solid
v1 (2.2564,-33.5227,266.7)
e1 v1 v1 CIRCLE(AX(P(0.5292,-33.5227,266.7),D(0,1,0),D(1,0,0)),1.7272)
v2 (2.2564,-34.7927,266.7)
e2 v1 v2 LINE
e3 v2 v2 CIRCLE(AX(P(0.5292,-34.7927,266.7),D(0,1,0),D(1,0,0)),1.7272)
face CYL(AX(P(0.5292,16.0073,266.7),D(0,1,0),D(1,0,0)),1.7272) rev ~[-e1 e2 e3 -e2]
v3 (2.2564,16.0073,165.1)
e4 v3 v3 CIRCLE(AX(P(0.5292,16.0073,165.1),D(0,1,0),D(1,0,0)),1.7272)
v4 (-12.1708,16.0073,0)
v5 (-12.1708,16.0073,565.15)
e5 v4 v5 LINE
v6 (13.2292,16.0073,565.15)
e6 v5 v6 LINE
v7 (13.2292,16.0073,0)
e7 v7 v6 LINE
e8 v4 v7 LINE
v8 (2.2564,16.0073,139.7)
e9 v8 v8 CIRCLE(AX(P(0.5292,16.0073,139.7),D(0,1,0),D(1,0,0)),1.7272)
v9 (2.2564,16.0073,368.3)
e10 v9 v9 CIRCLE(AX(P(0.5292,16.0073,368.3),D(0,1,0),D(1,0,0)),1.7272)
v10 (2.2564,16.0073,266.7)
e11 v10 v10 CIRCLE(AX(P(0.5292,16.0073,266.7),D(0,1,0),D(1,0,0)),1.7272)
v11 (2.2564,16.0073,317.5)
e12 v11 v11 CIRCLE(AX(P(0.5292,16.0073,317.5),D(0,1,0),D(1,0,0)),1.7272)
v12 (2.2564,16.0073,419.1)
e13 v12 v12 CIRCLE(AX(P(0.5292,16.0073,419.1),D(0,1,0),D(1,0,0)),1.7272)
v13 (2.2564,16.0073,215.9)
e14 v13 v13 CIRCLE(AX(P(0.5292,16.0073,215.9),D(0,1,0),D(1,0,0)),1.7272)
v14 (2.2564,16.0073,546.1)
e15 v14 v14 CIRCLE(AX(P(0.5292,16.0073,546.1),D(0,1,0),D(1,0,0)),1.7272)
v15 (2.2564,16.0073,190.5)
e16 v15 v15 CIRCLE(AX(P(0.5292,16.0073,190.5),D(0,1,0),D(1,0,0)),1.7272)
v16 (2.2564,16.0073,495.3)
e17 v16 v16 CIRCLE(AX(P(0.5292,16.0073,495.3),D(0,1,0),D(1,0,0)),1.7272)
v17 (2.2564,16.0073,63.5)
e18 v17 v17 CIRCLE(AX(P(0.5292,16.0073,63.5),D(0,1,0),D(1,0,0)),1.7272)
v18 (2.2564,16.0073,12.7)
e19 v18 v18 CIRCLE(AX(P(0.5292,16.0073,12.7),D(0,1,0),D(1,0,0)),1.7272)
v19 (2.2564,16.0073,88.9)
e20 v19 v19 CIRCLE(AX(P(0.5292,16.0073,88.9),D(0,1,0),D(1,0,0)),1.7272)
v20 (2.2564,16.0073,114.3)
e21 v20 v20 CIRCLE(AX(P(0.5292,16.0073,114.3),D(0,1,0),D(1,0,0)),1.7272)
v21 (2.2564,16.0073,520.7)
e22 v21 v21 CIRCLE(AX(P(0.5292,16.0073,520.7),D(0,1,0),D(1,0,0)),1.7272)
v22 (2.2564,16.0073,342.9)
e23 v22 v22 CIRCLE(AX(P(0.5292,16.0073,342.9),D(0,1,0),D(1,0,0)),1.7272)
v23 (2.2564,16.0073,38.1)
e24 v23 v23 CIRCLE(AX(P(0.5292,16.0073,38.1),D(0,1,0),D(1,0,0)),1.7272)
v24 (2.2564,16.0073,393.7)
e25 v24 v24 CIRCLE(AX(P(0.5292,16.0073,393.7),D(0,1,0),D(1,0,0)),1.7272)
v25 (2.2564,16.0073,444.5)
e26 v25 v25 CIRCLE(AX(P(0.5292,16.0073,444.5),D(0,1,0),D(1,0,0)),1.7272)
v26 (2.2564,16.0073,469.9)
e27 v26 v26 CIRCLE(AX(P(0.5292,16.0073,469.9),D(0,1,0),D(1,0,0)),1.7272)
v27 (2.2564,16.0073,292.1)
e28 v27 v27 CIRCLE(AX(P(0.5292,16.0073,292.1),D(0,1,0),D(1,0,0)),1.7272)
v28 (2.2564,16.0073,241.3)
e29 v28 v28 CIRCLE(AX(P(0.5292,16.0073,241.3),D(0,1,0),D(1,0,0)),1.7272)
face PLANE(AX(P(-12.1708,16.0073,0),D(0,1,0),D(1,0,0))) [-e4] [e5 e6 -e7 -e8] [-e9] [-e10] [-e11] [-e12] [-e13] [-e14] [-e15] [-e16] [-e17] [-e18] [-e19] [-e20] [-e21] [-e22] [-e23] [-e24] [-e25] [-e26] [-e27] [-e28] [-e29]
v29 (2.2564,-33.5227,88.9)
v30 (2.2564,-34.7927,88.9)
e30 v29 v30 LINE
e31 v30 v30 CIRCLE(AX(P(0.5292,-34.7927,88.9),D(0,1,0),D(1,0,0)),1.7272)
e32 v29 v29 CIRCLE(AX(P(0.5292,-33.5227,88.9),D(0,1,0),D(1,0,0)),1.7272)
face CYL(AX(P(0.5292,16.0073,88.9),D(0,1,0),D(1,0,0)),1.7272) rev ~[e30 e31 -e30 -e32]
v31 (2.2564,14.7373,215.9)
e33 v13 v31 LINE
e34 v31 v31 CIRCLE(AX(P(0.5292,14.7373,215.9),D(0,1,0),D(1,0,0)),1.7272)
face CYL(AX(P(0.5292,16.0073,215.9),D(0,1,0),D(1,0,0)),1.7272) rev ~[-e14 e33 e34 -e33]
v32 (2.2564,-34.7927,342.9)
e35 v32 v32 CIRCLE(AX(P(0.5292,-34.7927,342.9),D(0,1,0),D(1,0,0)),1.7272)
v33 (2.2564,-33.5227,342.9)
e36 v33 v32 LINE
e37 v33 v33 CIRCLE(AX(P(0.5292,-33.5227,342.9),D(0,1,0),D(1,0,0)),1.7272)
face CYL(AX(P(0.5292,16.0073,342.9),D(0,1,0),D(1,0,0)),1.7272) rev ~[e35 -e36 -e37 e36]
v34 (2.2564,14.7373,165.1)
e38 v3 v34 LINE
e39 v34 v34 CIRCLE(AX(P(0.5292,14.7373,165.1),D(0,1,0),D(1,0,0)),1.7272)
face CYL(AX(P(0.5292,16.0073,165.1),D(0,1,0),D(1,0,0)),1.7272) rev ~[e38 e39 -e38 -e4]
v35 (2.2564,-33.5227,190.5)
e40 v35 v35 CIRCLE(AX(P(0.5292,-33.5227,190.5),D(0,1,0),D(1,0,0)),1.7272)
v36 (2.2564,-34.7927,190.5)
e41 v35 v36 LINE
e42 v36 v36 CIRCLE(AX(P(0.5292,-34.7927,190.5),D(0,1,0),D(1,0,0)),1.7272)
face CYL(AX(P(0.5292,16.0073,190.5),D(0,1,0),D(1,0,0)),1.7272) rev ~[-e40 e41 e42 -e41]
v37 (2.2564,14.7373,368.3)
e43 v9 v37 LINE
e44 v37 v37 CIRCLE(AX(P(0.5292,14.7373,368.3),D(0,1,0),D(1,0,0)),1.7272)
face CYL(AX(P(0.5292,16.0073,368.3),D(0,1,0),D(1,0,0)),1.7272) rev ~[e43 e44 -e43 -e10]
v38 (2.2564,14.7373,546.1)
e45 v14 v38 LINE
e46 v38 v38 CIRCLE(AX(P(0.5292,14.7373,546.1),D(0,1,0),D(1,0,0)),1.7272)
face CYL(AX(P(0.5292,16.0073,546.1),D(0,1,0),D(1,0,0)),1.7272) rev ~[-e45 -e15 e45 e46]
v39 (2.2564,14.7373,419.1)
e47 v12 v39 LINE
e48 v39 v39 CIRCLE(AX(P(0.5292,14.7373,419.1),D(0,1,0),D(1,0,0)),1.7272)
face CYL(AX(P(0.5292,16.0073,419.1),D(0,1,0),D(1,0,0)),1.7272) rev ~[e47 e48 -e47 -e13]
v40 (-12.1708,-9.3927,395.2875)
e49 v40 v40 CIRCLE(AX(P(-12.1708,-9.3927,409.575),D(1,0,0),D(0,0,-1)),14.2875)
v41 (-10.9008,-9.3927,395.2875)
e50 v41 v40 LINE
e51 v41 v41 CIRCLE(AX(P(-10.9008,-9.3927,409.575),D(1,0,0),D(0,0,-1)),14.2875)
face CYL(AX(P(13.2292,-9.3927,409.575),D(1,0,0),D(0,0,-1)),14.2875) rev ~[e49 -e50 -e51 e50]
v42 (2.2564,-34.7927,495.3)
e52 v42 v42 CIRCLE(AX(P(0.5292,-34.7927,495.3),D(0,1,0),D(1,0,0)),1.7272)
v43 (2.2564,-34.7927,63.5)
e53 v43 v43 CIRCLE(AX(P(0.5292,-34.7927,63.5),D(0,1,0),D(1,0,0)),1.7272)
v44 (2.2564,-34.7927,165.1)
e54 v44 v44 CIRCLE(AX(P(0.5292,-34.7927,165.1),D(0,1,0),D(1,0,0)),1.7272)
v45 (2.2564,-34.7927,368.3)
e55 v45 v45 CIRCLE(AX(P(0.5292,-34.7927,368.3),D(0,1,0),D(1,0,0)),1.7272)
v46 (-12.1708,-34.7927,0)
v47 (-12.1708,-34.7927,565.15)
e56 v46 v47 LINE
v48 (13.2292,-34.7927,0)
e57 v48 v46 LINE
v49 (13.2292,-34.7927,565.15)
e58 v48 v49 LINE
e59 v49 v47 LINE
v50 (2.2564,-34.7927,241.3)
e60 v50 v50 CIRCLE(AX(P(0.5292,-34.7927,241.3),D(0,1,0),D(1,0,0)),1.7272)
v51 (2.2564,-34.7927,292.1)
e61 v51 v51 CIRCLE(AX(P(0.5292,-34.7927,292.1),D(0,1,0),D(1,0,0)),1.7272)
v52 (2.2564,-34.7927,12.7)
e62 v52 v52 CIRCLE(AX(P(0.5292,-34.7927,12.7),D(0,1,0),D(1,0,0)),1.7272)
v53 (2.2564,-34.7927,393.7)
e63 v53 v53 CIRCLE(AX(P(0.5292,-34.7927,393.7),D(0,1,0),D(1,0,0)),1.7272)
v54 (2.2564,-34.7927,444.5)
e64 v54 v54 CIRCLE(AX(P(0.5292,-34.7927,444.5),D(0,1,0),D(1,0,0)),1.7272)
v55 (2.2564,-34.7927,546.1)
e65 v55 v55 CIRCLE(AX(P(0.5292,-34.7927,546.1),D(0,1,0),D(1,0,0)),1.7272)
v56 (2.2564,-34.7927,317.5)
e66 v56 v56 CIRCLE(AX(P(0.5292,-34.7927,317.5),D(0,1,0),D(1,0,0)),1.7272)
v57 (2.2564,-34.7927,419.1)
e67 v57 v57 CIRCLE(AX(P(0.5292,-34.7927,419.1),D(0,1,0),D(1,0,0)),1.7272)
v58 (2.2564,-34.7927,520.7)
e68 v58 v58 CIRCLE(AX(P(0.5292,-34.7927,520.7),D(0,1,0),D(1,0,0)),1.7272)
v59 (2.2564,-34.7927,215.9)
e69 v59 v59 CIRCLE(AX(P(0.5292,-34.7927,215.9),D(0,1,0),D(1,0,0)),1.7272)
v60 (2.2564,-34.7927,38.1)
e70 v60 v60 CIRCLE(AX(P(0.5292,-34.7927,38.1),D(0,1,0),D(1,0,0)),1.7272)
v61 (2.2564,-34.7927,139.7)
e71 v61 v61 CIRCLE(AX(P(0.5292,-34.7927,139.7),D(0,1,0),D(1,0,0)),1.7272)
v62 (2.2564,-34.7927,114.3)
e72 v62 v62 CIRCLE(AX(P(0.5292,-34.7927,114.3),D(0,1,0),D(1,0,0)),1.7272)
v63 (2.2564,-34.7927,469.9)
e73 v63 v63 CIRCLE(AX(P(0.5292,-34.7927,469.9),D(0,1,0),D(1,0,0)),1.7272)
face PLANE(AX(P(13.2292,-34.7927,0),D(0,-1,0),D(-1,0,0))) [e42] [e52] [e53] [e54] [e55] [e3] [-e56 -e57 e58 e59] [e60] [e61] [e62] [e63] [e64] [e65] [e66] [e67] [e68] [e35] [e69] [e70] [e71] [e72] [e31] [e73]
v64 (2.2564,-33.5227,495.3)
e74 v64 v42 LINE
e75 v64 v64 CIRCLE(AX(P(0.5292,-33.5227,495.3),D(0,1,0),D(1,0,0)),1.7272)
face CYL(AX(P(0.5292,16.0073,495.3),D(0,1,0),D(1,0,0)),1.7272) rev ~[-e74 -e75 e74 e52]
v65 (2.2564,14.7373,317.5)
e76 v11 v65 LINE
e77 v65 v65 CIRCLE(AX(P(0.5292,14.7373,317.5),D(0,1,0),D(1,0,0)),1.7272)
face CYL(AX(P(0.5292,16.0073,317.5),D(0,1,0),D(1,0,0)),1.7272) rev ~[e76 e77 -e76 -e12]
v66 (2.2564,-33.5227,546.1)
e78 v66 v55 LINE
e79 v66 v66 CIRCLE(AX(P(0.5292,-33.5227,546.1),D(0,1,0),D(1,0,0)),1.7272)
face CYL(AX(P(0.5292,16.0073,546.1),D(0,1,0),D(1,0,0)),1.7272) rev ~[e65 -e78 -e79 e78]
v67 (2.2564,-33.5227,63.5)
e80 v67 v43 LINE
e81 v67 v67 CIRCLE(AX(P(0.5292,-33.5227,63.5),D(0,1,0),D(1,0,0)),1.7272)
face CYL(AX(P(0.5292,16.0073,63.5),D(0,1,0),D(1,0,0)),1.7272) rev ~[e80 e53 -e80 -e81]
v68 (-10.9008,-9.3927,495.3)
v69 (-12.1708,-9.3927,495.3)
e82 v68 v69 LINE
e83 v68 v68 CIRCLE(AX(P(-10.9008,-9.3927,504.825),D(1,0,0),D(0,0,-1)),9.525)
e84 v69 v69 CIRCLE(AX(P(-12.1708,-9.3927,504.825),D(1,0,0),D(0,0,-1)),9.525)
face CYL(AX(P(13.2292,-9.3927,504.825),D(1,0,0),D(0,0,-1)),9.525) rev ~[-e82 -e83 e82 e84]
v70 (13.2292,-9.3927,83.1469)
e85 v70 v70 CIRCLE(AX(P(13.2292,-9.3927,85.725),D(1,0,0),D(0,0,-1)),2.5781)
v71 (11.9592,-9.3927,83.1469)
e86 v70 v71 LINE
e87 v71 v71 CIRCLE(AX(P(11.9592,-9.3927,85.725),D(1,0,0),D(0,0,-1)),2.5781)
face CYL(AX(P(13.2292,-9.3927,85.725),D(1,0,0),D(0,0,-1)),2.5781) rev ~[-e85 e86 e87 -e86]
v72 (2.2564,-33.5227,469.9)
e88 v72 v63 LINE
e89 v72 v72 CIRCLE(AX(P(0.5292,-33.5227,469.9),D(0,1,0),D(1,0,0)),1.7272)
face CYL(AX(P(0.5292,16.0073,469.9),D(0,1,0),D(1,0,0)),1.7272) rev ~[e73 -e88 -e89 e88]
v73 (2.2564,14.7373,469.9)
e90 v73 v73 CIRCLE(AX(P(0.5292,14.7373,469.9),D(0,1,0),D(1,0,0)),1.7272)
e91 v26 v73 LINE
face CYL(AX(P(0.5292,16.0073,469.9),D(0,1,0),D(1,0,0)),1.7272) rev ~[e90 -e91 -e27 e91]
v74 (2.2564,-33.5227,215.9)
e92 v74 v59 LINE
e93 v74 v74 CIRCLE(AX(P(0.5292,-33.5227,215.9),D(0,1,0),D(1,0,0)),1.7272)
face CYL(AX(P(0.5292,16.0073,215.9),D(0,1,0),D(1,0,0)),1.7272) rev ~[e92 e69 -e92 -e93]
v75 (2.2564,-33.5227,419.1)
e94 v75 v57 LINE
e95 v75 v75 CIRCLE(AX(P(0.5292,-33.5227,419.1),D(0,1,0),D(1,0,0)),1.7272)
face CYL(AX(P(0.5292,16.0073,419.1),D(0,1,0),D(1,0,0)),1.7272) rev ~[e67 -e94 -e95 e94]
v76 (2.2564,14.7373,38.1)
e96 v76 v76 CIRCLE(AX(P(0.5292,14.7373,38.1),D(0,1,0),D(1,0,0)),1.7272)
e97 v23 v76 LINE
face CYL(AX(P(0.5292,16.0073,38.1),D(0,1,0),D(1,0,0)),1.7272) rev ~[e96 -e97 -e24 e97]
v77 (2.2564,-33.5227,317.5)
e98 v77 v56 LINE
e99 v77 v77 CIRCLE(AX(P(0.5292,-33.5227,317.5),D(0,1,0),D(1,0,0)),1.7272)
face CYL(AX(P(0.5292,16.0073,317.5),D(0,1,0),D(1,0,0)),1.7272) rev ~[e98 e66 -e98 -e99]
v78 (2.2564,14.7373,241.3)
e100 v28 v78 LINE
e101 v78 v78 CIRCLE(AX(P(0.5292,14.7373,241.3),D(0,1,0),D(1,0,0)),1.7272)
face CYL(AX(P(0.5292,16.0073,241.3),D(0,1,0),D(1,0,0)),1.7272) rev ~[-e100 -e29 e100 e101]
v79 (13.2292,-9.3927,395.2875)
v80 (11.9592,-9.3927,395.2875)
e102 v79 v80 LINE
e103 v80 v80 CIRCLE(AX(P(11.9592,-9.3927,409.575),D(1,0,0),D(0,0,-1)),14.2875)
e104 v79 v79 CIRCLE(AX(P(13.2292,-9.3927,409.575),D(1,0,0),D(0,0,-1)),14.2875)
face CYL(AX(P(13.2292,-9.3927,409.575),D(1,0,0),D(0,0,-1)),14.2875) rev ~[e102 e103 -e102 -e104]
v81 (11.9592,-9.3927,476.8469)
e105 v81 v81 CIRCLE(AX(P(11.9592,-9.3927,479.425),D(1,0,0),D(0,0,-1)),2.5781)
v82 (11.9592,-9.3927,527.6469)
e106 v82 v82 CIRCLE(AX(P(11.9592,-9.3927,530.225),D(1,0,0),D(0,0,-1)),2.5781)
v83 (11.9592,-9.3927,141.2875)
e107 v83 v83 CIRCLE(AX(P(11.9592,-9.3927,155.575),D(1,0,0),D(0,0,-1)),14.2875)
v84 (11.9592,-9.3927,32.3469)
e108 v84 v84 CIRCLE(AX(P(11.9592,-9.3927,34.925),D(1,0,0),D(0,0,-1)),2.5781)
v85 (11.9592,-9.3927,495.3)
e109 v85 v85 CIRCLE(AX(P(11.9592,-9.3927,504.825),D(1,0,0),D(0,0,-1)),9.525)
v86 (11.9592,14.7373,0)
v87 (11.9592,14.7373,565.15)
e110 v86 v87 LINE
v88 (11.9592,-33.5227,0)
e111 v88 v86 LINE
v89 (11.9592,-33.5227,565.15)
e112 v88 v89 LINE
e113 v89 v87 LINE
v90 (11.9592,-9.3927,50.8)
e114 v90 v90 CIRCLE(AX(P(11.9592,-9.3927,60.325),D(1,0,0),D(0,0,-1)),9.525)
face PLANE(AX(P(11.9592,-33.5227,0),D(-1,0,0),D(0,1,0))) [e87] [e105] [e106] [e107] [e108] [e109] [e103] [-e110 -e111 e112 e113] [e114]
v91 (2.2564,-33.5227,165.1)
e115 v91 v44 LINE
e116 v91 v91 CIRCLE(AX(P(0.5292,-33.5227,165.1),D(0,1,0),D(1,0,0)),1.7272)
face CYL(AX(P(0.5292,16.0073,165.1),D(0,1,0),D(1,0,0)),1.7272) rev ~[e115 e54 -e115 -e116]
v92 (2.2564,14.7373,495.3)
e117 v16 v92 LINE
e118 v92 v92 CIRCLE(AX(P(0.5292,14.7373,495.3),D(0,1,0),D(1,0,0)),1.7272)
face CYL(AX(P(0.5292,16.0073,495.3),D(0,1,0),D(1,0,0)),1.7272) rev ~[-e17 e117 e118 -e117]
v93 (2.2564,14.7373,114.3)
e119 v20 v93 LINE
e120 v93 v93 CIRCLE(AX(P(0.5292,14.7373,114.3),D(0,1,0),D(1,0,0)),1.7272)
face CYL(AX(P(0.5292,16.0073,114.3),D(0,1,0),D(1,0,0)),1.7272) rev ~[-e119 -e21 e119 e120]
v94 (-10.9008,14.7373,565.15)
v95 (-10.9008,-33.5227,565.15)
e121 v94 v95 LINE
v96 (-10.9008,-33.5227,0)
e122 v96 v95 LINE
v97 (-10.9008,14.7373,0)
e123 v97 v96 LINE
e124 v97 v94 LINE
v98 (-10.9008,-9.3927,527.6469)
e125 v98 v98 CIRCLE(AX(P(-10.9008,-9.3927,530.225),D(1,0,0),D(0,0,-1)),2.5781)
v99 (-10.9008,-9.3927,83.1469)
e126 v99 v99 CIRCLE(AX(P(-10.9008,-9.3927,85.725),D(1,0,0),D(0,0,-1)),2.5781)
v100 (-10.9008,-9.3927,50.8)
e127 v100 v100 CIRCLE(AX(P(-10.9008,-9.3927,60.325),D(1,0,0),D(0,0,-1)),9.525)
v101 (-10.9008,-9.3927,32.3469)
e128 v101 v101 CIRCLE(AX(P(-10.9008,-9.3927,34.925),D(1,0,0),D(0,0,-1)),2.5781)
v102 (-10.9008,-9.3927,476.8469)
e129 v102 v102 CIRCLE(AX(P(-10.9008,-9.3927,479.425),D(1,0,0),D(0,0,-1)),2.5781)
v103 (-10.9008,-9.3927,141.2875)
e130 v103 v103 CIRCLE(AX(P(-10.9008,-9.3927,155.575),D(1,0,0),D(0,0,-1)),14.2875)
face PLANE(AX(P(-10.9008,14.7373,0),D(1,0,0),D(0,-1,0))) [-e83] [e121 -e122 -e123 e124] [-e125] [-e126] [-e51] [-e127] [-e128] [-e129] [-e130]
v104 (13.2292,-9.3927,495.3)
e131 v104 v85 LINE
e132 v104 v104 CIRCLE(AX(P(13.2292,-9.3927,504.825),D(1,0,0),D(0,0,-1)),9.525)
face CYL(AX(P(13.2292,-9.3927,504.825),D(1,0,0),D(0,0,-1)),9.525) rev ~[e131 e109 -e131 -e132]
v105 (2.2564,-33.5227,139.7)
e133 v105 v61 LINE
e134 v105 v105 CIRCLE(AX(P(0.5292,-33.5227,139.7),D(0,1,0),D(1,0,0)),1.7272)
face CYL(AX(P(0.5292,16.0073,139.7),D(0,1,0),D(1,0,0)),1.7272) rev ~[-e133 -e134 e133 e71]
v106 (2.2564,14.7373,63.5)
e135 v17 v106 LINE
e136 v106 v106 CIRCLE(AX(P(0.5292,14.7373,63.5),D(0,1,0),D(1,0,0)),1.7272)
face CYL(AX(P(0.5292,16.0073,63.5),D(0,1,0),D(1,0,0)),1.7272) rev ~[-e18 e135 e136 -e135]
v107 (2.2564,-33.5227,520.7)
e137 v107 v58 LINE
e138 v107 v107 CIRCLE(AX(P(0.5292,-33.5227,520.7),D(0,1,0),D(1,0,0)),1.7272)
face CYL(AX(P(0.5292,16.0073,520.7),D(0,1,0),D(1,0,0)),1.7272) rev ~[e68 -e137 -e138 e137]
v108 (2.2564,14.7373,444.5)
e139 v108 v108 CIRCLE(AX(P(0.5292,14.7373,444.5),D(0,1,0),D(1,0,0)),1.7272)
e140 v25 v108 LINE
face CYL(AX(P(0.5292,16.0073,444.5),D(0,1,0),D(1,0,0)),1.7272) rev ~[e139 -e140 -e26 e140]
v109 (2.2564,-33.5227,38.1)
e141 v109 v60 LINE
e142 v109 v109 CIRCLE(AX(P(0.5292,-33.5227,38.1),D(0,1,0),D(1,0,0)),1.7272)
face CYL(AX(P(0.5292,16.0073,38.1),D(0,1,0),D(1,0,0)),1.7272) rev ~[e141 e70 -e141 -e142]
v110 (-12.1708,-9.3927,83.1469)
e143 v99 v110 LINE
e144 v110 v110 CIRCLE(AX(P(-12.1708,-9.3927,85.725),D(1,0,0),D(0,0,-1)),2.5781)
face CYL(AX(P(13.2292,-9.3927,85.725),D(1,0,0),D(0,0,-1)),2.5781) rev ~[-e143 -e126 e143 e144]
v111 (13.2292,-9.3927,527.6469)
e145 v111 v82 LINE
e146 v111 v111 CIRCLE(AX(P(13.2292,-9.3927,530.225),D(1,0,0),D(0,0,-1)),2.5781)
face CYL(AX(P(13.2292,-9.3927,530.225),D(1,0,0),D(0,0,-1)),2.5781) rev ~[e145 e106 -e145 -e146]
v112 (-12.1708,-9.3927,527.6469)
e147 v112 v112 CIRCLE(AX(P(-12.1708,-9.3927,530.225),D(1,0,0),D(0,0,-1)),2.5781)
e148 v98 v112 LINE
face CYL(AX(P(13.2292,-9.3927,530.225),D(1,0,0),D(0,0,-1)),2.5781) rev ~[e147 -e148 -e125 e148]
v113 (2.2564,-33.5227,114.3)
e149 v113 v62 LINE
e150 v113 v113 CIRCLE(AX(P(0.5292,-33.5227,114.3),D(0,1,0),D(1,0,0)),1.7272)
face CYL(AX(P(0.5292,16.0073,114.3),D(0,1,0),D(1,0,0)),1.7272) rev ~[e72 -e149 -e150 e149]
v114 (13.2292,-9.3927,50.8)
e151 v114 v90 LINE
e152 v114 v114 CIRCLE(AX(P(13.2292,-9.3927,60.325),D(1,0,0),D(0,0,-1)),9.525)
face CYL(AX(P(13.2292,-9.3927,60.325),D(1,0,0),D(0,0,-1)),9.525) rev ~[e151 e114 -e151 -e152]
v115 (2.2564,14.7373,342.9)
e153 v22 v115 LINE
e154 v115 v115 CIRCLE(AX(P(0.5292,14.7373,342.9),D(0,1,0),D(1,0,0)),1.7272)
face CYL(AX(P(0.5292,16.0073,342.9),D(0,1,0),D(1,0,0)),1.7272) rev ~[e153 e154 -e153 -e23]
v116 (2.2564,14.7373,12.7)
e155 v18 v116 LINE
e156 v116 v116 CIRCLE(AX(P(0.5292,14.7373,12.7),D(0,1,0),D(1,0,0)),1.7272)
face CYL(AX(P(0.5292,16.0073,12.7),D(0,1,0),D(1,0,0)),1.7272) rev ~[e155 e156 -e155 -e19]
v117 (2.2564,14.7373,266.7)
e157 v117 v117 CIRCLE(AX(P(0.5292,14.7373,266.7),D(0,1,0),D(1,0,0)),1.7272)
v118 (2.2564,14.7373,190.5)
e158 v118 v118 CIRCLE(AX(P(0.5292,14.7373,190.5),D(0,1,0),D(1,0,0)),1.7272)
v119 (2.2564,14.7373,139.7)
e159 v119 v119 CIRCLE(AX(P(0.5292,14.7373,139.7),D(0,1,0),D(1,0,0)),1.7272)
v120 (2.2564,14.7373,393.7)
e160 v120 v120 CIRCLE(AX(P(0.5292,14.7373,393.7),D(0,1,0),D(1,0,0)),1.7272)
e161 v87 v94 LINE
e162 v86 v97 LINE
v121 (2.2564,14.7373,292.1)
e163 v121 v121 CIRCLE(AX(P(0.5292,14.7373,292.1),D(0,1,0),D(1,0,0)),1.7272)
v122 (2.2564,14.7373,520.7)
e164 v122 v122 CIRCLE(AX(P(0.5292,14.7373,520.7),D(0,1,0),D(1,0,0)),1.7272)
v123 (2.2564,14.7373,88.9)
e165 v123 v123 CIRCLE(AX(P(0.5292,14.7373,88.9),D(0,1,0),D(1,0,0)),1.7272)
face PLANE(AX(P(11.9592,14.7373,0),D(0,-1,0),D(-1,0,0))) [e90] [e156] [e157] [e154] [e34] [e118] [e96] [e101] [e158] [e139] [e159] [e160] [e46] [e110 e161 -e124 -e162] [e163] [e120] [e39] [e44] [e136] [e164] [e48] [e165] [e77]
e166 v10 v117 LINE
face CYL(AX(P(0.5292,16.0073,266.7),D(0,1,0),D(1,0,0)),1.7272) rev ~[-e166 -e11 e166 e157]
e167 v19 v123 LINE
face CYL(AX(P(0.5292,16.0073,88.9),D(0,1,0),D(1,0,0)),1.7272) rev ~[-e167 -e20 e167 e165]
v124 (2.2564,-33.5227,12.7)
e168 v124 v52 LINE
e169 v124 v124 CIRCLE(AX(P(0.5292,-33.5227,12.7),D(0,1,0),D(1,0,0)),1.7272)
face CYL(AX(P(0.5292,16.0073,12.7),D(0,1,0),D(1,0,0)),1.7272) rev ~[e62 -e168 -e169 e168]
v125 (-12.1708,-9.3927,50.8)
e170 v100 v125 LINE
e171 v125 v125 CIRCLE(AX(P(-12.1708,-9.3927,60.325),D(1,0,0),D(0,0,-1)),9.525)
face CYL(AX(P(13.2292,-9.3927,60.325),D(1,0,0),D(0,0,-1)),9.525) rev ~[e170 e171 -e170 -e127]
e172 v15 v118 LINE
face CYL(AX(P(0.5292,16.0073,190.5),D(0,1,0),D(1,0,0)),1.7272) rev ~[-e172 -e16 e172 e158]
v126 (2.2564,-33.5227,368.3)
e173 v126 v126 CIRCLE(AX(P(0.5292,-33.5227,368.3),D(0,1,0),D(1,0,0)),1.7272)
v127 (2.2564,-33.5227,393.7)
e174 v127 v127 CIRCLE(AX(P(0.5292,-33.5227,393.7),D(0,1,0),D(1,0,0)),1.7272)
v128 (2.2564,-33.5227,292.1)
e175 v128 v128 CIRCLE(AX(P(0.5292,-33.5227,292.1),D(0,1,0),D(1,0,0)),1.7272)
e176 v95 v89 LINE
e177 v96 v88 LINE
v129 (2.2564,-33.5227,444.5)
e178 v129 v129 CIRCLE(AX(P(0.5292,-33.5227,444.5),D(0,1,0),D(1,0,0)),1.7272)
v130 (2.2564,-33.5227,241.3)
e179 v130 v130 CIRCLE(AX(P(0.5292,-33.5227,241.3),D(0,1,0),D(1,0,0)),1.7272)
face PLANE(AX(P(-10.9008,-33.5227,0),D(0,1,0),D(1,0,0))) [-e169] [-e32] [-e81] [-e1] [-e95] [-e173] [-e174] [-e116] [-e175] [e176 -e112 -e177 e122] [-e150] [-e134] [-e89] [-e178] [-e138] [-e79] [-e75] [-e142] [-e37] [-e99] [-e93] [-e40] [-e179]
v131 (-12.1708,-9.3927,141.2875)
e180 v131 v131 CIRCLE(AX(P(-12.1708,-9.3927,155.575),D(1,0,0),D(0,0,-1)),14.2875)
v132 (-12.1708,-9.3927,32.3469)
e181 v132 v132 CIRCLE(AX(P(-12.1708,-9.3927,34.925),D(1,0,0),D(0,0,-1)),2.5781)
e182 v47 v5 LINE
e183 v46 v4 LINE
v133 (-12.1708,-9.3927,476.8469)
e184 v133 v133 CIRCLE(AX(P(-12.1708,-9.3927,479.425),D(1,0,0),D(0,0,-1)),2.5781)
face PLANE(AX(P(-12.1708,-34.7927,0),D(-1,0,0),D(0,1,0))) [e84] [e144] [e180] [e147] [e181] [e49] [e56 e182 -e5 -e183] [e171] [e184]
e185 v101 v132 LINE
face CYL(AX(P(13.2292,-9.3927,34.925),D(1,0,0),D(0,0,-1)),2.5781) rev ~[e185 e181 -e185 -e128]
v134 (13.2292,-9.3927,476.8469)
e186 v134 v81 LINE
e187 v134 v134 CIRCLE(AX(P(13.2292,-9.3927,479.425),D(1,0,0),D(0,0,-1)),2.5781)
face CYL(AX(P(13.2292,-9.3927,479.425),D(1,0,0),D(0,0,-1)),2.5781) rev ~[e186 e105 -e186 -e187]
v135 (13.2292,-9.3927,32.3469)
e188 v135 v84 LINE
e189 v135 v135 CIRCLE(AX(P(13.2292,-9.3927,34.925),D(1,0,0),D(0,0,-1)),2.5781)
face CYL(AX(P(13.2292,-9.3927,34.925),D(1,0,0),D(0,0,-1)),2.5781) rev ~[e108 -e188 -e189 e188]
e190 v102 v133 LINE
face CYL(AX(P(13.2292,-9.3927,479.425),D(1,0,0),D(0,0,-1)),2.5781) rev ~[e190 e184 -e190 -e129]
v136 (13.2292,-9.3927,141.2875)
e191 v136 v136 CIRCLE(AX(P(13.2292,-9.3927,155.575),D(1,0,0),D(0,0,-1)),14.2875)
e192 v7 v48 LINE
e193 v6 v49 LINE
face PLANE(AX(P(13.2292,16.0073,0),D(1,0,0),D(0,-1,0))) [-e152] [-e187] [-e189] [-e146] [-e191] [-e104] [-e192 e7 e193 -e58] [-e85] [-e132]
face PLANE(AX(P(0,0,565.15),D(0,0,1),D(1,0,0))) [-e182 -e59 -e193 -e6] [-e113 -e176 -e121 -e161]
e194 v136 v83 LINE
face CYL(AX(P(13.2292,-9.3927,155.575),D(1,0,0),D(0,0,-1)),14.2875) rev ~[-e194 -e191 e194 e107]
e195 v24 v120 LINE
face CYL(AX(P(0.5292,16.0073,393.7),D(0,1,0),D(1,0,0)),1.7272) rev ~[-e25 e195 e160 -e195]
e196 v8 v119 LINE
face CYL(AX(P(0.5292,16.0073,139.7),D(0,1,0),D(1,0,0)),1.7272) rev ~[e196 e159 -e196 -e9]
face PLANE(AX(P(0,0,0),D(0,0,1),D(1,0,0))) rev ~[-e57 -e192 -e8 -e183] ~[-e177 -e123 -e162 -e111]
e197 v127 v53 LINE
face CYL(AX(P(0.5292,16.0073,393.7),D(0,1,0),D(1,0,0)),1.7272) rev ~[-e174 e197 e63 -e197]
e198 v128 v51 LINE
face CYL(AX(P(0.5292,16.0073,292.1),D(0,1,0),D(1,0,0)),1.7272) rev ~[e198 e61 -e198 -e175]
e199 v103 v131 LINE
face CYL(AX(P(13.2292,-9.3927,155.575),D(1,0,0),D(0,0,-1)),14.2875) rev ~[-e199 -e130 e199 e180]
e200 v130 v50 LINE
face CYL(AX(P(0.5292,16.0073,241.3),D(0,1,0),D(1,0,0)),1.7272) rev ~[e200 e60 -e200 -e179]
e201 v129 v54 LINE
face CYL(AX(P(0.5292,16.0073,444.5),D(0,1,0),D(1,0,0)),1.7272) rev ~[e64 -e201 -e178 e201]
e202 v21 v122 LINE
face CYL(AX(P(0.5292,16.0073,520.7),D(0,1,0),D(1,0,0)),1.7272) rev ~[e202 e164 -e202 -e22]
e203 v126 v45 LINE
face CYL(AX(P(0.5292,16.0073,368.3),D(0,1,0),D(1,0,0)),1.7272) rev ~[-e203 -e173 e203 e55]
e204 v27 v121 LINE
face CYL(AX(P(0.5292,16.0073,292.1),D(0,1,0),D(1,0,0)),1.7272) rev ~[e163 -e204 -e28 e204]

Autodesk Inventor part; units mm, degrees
ref_plane "YZ Plane" through (0, 0, 0) normal (1, 0, 0) x (0, 1, 0)
ref_plane "XZ Plane" through (0, 0, 0) normal (0, 1, 0) x (-1, 0, 0)
ref_plane "XY Plane" through (0, 0, 0) normal (0, 0, 1) x (1, 0, 0)
sketch "Sketch1" plane through (0, 0, 0) normal (0, 0, 1) x (1, 0, 0)
  line L0 (-12.1708, 16.0073) -> (13.2292, 16.0073)
  line L1 (13.2292, 16.0073) -> (13.2292, -34.7927)
  line L2 (13.2292, -34.7927) -> (-12.1708, -34.7927)
  line L3 (-12.1708, -34.7927) -> (-12.1708, 16.0073)
  line L4 (11.9592, 14.7373) -> (-10.9008, 14.7373)
  line L5 (-10.9008, 14.7373) -> (-10.9008, -33.5227)
  line L6 (-10.9008, -33.5227) -> (11.9592, -33.5227)
  line L7 (11.9592, -33.5227) -> (11.9592, 14.7373)
  point P0 (0, 0)
  dimension "d0" = 25.4
  dimension "d1" = 50.8
  dimension "d2" = 1.27
extrude "Extrusion1" add sketch "Sketch1" along normal blind 565.15
sketch "Sketch2" plane through (-12.1708, 16.0073, 0) normal (0, 1, 0) x (1, 0, 0)
  circle A0 centre (12.7, -12.7) radius 1.7272
  line L0 (25.4, 0) -> (0, 0) projected
  line L1 (0, 0) -> (0, -565.15) projected
  point P0 (12.1708, 0)
  dimension "d5" = 3.4544
  dimension "d6" = 12.7
  dimension "d7" = 12.7
extrude "Extrusion2" cut sketch "Sketch2" against normal through all
pattern_linear "Rectangular Pattern1" count 22 spacing 25.4 along (0, 0, 1) of "Extrusion2"
sketch "Sketch4" plane through (13.2292, -34.7927, 0) normal (1, 0, 0) x (0, 0, -1)
  line L0 (0, 50.8) -> (-565.15, 50.8) construction
  line L1 (-282.575, 50.8) -> (-282.575, 0) construction
  line L2 (0, 0) -> (-565.15, 0) construction
  line L3 (-565.15, 49.53) -> (-565.15, 1.27) construction
  line L4 (-565.15, 25.4) -> (0, 25.4) construction
  line L5 (0, 49.53) -> (0, 1.27) construction
  circle A0 centre (-409.575, 25.4) radius 14.2875
  circle A1 centre (-155.575, 25.4) radius 14.2875
  circle A2 centre (-504.825, 25.4) radius 9.525
  circle A3 centre (-60.325, 25.4) radius 9.525
  circle A4 centre (-530.225, 25.4) radius 2.5781
  circle A5 centre (-479.425, 25.4) radius 2.5781
  circle A6 centre (-85.725, 25.4) radius 2.5781
  circle A7 centre (-34.925, 25.4) radius 2.5781
  point P0 (0, 34.7927)
  dimension "d15" = 28.575
  dimension "d18" = 127
  dimension "d19" = 19.05
  dimension "d21" = 222.25
  dimension "d23" = 5.1562
  dimension "d24" = 5.1562
  dimension "d25" = 25.4
  dimension "d26" = 25.4
  dimension "d33" = 565.15
  dimension "d34" = 282.575
extrude "Extrusion3" cut sketch "Sketch4" against normal through all
equation "\"d3\" = d13"
equation "\"d10\" = d14"
equation "\"d13\" = 565.15"
equation "\"d14\" = 22.25"
properties part number "VerseFrame 22.25in for Ball Suck"
